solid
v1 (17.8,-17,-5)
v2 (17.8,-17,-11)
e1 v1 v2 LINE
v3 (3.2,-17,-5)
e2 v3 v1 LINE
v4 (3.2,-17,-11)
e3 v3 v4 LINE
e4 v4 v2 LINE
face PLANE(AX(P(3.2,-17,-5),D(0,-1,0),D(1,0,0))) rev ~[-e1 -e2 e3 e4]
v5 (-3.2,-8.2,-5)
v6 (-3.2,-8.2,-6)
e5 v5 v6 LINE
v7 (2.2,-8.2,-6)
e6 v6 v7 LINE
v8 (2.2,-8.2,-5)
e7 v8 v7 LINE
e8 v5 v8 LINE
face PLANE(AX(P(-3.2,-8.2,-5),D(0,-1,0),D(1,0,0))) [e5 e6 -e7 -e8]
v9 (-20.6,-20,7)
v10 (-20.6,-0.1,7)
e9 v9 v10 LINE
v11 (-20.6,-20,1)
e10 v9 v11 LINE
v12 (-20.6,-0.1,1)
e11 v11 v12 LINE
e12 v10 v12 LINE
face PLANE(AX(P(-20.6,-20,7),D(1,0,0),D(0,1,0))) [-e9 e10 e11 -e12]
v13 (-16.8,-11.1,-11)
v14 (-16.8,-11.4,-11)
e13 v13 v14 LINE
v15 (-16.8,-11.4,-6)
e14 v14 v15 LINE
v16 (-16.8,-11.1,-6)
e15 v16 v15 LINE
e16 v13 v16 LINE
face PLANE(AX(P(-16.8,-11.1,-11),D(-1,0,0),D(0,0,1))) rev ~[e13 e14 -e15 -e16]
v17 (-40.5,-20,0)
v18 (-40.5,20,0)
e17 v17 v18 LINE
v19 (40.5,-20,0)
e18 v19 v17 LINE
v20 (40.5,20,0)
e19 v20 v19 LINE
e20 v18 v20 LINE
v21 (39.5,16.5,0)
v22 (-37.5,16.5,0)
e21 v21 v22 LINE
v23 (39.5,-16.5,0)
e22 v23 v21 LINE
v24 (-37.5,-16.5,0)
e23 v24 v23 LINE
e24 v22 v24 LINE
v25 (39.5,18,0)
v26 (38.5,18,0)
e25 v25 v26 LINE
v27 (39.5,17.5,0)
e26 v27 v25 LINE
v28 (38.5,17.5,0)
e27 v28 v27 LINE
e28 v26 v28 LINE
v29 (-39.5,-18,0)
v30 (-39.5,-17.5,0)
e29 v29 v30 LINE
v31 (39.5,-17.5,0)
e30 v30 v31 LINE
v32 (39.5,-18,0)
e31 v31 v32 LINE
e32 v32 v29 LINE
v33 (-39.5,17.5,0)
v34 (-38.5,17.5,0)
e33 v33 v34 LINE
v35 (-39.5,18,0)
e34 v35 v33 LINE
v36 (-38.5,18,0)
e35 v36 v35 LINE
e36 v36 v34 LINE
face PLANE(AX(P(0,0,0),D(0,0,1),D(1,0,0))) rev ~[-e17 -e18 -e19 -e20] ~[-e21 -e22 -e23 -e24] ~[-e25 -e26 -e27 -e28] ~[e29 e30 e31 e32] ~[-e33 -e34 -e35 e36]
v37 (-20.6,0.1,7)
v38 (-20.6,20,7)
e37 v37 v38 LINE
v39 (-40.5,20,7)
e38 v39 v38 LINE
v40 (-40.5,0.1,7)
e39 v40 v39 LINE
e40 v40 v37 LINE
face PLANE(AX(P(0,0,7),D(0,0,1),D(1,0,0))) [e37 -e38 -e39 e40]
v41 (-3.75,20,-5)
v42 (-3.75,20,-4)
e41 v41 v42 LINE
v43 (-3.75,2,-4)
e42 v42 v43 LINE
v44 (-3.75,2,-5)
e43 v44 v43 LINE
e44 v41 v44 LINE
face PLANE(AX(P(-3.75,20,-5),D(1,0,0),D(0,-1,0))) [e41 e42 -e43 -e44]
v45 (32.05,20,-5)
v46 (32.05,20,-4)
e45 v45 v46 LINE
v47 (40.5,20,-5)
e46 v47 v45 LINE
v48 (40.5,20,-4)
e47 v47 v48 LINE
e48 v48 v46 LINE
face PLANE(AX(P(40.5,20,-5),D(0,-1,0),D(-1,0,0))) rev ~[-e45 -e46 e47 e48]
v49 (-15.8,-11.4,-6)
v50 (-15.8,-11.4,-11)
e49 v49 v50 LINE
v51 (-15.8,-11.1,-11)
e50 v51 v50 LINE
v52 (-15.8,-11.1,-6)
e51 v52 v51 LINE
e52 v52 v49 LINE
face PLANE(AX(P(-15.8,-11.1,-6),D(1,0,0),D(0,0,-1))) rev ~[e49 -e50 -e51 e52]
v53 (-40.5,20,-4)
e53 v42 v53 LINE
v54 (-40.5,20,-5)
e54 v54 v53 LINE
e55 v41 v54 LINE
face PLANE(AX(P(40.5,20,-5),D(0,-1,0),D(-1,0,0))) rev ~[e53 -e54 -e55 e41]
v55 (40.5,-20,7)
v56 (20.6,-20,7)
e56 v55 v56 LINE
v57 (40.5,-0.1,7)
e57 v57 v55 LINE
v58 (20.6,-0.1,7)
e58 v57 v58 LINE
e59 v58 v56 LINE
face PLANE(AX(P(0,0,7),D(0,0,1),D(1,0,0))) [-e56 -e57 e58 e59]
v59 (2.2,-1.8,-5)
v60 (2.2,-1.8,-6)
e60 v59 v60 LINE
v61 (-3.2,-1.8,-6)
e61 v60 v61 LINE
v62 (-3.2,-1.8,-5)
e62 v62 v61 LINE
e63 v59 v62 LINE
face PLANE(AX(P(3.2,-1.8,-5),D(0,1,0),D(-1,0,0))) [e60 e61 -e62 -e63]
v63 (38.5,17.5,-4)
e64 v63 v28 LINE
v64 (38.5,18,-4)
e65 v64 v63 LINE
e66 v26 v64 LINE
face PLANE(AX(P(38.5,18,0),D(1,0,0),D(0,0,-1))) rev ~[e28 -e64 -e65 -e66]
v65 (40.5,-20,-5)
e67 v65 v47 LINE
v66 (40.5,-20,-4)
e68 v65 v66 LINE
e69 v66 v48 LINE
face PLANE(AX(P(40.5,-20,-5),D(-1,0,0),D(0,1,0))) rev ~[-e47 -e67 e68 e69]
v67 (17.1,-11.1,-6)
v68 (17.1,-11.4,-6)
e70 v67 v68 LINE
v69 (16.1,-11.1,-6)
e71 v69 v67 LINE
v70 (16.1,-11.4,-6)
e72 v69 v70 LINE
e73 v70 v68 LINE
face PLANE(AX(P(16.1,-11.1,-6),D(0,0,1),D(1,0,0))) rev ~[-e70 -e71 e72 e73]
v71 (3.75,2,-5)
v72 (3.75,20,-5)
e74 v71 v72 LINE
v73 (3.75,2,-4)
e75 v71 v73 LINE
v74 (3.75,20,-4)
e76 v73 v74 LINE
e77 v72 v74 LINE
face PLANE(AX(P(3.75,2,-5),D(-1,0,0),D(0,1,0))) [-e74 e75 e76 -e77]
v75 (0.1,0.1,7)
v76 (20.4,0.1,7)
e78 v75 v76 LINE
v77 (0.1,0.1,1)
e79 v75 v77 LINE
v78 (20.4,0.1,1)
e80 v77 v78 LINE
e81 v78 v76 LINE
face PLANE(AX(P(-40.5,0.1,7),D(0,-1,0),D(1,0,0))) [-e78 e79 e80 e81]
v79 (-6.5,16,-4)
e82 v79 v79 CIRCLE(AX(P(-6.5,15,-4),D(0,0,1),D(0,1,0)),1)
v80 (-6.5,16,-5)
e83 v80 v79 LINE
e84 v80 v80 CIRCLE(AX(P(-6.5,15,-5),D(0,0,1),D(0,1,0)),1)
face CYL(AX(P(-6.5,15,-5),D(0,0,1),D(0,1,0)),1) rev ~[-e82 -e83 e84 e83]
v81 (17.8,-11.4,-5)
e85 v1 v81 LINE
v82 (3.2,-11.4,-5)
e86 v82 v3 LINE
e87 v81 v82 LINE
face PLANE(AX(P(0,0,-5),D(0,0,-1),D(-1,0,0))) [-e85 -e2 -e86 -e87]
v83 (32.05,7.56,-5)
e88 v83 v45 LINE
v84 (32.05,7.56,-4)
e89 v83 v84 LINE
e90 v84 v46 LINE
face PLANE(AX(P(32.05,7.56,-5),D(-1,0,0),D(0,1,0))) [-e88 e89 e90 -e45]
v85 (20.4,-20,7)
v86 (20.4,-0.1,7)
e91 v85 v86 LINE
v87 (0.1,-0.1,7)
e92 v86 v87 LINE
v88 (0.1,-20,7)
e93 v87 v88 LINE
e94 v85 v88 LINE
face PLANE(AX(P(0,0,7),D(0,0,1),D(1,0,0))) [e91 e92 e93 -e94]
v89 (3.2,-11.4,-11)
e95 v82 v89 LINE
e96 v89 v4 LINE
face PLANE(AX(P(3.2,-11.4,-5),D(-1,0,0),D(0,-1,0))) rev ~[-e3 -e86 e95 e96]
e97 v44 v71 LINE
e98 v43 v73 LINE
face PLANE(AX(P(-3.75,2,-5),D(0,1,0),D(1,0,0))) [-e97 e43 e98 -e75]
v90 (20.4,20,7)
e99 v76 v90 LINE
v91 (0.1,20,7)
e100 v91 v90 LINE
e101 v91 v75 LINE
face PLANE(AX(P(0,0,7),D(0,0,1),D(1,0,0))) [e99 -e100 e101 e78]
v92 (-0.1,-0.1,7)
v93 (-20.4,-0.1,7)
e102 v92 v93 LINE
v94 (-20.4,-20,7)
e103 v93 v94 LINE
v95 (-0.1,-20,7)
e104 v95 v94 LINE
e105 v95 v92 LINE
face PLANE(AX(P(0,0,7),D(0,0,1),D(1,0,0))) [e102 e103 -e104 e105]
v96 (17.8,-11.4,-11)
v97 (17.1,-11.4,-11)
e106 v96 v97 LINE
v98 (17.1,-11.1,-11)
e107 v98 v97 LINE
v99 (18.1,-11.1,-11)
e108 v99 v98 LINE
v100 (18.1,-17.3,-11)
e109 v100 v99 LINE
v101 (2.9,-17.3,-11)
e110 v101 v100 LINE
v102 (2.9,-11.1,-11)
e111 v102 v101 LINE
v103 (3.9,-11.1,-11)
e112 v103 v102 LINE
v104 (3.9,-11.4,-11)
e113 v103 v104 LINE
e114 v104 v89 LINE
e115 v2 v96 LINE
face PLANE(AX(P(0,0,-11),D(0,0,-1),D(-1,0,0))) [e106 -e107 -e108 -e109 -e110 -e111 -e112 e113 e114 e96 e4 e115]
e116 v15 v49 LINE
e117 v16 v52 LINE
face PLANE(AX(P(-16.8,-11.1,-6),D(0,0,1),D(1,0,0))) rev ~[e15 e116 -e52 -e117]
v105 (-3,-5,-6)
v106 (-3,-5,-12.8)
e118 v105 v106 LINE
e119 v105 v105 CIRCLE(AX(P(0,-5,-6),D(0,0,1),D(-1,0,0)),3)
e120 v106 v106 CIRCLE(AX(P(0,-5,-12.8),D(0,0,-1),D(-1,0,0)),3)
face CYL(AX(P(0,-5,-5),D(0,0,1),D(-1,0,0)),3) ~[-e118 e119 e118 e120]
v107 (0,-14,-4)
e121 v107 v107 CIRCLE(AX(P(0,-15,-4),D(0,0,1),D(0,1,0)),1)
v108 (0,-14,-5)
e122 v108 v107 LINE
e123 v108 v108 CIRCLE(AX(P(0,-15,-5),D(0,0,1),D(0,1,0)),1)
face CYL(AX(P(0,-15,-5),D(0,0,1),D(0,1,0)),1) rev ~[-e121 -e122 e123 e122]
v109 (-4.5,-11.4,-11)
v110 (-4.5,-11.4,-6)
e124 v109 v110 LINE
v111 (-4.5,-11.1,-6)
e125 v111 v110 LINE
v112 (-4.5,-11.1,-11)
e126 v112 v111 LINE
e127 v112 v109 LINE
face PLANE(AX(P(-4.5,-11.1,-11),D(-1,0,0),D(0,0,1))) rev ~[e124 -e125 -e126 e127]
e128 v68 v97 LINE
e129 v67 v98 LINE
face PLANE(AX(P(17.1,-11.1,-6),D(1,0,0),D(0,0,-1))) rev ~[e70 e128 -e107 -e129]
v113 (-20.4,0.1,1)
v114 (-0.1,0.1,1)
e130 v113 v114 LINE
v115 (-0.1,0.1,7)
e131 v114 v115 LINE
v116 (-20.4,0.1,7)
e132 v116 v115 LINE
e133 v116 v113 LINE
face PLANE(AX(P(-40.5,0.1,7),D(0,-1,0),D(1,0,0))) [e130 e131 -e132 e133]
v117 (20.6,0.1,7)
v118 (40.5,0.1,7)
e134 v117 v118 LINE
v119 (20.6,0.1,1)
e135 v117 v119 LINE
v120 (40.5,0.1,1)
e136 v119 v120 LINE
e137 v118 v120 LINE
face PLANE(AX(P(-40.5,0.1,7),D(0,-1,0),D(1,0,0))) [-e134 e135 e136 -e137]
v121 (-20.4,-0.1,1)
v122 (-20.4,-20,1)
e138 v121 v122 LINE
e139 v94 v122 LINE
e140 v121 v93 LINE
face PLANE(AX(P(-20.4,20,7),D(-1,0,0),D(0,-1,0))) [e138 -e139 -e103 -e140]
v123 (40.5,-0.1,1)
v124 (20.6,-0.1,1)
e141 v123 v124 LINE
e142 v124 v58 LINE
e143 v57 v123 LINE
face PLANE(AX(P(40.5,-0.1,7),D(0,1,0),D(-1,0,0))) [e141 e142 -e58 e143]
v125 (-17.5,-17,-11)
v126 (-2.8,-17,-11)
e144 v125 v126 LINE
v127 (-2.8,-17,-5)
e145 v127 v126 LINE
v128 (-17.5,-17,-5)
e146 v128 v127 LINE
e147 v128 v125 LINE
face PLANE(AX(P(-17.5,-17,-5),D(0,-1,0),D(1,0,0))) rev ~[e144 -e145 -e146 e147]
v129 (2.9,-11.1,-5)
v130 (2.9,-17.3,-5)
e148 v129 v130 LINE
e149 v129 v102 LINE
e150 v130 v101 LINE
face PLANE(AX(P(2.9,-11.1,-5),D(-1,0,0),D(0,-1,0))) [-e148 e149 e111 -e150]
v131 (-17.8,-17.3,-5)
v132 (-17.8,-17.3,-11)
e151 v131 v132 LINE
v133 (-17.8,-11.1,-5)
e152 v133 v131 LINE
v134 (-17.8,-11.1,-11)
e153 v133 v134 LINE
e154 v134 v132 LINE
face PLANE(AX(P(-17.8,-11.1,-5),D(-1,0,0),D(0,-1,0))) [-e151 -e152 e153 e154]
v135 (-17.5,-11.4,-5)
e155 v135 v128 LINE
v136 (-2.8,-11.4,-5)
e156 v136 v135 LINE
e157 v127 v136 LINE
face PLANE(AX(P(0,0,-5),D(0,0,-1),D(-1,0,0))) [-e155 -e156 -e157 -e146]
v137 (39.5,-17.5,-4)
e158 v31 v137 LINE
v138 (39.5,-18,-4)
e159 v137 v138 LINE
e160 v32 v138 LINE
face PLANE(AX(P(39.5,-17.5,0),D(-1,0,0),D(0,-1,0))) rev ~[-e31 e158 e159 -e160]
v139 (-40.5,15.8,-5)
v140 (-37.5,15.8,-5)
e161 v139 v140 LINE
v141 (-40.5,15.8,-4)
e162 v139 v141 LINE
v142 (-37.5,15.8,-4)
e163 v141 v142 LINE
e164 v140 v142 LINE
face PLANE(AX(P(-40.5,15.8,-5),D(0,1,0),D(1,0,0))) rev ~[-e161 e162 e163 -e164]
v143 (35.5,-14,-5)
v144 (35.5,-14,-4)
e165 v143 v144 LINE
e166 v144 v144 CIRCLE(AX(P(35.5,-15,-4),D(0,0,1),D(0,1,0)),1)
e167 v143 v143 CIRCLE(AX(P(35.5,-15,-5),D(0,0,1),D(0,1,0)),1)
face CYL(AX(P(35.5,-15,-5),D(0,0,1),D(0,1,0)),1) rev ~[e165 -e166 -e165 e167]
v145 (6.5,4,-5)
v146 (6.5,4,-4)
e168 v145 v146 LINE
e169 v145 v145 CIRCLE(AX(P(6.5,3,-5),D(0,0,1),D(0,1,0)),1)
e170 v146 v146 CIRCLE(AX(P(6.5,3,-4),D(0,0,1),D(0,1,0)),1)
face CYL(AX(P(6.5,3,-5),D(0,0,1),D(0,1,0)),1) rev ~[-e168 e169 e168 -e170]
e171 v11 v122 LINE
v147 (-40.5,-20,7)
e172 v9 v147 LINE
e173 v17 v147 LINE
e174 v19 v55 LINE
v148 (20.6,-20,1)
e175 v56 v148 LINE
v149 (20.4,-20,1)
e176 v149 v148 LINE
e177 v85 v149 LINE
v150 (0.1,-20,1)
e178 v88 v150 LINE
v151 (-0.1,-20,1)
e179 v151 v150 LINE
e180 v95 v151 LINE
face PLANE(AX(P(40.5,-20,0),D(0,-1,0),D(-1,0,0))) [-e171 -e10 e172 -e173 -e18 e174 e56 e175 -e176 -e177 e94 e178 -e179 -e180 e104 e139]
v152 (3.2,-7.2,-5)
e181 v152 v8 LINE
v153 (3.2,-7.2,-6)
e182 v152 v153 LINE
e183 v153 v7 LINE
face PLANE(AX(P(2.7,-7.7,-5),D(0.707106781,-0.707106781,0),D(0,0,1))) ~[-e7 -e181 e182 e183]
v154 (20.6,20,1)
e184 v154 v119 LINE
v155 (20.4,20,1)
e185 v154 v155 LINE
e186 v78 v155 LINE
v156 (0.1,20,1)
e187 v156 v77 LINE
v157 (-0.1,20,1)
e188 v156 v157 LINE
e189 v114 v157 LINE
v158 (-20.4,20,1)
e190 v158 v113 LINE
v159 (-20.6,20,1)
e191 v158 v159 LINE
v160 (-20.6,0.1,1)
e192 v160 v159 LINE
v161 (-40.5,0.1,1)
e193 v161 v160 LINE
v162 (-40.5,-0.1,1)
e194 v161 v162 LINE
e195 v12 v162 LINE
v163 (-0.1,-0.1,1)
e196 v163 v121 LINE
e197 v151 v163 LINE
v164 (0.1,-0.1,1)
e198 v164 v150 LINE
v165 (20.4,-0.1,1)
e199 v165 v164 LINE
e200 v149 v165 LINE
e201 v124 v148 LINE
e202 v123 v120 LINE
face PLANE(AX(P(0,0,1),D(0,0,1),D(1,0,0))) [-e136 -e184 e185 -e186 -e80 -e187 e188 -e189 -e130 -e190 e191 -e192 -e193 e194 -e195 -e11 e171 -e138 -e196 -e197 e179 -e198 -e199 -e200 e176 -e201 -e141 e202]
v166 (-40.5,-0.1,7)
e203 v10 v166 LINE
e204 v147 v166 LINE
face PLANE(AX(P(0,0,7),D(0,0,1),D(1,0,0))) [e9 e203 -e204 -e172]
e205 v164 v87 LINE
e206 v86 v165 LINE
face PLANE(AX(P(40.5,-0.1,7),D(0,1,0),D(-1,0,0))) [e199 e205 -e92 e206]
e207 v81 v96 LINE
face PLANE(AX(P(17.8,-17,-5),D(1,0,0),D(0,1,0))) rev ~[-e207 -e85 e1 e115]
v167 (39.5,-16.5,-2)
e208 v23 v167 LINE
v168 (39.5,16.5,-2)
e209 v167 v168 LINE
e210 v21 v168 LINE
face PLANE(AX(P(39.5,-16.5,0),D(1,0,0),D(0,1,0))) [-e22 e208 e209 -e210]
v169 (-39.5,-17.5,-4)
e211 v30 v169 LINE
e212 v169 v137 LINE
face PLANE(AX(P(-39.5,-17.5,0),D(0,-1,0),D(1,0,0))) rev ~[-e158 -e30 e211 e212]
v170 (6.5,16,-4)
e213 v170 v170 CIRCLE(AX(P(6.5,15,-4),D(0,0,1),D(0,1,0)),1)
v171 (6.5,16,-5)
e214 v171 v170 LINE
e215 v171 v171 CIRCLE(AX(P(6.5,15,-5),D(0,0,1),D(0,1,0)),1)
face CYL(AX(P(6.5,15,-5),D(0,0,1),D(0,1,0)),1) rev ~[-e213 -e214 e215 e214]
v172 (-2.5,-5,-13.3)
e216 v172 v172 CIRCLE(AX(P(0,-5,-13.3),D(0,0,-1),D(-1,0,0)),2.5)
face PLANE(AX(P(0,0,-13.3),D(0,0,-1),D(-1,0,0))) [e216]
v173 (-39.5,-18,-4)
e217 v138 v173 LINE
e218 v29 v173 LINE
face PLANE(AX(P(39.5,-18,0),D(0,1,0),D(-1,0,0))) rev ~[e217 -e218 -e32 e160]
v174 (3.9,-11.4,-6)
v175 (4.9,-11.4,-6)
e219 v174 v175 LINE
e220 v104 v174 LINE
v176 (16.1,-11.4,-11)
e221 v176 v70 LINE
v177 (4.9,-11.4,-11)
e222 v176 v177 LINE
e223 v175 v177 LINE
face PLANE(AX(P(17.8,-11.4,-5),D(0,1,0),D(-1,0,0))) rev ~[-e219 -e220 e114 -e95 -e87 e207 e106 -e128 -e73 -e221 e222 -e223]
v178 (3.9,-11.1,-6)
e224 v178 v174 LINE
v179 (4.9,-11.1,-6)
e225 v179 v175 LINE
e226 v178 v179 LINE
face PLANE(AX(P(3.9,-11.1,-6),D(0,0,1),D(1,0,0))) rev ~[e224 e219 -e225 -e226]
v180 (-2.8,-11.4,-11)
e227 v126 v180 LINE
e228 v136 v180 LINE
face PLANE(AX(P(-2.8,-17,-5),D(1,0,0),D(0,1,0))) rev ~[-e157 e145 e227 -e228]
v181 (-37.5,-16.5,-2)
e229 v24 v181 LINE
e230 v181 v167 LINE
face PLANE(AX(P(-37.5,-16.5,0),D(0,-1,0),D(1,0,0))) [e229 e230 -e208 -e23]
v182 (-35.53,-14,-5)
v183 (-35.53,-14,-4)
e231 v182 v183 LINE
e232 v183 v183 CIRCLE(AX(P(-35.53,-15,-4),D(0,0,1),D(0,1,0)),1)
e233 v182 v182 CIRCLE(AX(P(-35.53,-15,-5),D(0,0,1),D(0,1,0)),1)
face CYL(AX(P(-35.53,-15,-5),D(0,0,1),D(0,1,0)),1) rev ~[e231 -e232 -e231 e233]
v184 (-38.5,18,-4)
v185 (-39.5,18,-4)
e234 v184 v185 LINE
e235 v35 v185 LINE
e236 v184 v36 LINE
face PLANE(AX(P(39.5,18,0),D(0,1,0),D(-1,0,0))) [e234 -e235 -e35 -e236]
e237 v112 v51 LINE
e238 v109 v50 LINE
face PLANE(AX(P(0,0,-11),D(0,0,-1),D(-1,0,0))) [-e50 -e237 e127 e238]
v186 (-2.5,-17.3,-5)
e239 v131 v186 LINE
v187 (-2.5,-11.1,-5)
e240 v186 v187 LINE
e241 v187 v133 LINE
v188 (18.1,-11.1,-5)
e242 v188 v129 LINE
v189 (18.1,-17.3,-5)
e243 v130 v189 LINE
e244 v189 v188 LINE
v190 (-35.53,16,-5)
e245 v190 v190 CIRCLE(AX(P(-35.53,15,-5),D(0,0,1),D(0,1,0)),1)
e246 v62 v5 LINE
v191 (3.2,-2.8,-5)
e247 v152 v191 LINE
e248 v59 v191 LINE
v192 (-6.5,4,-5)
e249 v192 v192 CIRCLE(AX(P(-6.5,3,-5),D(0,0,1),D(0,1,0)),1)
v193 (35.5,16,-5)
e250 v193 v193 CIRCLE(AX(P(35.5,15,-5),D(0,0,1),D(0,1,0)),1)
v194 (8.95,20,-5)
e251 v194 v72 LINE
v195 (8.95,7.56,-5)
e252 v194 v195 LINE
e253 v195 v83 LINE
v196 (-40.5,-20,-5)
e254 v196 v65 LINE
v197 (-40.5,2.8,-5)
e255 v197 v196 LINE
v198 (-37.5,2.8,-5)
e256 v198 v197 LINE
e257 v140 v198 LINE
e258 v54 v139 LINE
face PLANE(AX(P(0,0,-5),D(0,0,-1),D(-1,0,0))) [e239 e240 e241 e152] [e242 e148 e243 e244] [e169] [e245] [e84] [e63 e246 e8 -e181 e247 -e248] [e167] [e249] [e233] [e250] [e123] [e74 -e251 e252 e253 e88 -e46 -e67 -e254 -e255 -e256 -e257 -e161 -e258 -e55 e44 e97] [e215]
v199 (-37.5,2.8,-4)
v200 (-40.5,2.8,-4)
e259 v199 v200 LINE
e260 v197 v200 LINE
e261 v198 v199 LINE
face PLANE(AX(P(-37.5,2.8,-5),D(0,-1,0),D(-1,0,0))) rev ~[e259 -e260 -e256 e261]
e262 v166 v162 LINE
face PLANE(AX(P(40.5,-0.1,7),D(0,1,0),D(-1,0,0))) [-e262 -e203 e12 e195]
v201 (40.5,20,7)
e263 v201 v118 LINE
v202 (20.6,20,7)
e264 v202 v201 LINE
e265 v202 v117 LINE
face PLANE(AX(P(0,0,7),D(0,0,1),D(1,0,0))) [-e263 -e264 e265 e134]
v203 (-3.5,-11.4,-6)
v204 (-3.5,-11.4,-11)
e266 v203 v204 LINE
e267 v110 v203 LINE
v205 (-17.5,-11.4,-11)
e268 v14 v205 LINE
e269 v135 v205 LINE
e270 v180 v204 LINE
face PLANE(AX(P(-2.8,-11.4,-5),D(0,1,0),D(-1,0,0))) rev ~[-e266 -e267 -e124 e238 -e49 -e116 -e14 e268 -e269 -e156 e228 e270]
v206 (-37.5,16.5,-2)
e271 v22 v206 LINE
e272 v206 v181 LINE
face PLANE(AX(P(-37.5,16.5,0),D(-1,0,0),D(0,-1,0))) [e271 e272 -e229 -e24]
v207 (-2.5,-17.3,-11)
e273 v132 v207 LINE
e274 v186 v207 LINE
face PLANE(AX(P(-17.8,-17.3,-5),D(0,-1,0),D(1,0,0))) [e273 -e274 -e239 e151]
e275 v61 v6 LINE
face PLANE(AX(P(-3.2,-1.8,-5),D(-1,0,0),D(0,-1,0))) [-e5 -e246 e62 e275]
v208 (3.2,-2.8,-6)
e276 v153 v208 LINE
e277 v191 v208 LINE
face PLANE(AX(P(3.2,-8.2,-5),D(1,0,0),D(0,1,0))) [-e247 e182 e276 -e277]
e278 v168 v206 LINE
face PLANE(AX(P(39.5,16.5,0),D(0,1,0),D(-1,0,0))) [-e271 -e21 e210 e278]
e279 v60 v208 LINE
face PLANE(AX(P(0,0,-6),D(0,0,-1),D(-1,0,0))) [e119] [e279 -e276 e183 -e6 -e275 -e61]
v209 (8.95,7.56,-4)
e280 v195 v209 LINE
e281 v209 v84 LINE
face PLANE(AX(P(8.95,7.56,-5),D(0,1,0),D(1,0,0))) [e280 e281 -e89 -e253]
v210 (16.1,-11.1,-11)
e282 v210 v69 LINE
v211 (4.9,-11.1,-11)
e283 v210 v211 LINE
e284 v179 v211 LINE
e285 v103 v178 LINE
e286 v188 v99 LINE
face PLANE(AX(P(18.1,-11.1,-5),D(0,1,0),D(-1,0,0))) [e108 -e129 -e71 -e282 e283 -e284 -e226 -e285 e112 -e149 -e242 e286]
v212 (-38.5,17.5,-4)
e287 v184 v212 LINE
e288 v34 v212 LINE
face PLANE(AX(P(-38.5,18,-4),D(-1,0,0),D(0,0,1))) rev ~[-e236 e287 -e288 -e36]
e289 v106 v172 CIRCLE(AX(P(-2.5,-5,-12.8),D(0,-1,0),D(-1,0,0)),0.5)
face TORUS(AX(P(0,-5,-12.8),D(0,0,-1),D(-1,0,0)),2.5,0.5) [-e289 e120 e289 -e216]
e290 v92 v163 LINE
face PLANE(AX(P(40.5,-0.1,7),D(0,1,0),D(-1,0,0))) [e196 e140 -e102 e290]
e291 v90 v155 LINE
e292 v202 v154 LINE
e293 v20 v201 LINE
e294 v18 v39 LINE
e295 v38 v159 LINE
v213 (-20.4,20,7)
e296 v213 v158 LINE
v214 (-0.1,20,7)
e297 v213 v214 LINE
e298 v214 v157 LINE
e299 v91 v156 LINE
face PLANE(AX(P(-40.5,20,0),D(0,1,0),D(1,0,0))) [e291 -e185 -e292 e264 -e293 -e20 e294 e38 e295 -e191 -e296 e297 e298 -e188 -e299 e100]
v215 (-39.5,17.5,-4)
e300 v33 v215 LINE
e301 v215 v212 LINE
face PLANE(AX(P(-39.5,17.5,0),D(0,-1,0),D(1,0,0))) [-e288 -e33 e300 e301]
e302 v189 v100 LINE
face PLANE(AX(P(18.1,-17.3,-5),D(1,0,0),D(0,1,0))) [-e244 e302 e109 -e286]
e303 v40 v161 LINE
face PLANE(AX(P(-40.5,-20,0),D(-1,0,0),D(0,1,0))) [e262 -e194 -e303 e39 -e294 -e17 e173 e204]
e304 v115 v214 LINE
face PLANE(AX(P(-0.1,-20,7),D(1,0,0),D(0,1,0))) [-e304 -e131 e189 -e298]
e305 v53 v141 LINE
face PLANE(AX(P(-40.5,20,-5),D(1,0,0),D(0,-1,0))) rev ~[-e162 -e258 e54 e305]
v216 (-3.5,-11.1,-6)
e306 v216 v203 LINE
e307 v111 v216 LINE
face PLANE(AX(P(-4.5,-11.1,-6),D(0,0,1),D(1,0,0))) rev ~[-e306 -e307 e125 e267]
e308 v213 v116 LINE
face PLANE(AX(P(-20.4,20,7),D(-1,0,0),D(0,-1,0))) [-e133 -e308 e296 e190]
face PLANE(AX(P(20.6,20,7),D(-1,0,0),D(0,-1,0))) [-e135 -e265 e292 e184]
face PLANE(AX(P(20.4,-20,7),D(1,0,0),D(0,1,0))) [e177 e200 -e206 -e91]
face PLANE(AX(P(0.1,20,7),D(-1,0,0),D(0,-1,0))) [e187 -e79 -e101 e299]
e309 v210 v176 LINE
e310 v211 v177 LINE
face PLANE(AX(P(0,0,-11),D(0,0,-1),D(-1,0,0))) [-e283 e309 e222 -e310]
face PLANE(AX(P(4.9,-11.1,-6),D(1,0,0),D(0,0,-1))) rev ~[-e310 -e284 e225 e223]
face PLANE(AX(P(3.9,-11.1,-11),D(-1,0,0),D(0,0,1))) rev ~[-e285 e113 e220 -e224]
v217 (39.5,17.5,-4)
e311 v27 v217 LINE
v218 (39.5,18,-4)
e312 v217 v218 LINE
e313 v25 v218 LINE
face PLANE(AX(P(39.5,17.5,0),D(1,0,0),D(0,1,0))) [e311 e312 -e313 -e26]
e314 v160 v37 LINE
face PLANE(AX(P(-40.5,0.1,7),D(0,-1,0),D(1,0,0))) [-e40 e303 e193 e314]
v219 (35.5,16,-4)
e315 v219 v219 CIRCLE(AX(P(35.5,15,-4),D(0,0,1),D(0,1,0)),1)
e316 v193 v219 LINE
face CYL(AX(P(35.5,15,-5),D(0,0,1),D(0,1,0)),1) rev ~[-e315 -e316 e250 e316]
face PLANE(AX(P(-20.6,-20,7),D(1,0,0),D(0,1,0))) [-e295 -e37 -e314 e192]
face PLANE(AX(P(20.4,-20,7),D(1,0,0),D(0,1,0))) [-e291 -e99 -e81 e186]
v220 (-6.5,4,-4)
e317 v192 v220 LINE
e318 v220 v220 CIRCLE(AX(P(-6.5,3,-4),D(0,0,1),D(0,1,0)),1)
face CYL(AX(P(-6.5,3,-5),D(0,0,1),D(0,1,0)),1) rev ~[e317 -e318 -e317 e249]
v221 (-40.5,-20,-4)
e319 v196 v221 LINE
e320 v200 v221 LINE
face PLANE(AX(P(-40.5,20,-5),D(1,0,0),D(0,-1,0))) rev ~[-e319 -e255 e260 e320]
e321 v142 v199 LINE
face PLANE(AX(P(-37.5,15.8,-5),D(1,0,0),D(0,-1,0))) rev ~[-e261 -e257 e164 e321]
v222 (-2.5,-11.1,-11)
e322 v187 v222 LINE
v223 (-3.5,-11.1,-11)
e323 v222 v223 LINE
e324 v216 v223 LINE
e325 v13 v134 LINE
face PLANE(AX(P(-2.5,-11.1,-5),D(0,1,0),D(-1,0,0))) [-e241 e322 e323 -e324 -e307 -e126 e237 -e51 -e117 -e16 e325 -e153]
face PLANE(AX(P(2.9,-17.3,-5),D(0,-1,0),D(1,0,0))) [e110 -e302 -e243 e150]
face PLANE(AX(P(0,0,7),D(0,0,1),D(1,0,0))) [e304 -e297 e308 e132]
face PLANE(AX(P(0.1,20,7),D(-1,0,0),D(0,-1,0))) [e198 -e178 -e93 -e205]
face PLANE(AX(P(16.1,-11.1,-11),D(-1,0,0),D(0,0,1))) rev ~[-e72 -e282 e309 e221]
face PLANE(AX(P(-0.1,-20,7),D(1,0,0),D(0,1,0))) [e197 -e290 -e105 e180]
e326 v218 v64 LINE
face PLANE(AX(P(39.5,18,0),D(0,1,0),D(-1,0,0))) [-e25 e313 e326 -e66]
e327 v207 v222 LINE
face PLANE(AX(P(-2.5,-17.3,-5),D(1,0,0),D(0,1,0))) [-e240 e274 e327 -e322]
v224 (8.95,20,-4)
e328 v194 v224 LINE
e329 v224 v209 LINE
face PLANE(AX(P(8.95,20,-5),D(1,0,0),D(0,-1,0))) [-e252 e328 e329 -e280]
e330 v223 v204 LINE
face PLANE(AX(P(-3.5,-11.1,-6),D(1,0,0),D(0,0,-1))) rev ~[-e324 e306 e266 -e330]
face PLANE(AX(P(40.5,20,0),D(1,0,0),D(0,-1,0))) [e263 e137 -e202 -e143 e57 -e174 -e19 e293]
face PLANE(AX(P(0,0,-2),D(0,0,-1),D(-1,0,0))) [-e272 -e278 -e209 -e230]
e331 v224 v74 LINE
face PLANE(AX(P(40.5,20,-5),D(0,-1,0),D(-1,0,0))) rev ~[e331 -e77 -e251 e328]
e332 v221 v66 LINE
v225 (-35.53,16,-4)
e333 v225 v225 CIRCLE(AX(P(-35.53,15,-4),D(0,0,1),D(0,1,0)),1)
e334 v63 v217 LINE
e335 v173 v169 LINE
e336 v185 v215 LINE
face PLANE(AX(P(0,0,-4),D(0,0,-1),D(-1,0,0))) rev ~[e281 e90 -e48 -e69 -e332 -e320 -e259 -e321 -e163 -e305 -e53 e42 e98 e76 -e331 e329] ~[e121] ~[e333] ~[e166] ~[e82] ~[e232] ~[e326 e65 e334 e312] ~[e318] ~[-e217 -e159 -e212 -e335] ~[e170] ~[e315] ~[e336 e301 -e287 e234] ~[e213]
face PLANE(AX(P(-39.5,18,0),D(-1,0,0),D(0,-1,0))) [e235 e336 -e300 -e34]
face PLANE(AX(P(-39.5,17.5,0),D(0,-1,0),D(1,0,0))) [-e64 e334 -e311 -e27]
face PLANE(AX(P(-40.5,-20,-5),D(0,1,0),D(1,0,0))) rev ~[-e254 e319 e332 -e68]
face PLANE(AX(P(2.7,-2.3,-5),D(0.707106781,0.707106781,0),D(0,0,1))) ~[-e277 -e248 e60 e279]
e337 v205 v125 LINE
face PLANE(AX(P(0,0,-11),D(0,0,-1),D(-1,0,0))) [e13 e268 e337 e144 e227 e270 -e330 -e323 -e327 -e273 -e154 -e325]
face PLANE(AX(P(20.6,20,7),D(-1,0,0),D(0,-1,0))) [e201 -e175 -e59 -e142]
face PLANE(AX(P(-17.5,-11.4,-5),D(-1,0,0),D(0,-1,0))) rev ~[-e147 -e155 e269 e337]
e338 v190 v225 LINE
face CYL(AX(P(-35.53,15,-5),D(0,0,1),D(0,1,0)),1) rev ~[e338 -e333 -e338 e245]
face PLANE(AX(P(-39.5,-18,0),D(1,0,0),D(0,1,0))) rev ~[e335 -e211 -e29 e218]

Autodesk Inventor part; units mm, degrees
ref_plane "YZ Plane" through (0, 0, 0) normal (1, 0, 0) x (0, 1, 0)
ref_plane "XZ Plane" through (0, 0, 0) normal (0, 1, 0) x (-1, 0, 0)
ref_plane "XY Plane" through (0, 0, 0) normal (0, 0, 1) x (1, 0, 0)
sketch "Sketch1" plane through (0, 0, 0) normal (0, 0, 1) x (1, 0, 0)
  line L0 (-40.5, 20) -> (40.5, 20)
  line L1 (40.5, 20) -> (40.5, -20)
  line L2 (40.5, -20) -> (-40.5, -20)
  line L3 (-40.5, -20) -> (-40.5, 20)
  point P0 (0, 0)
  dimension "d0" = 81
  dimension "d1" = 40
  dimension "d2" = 20
  dimension "d3" = 40.5
extrude "Extrusion1" add sketch "Sketch1" along normal blind 7
sketch "Sketch2" plane through (0, 0, 7) normal (0, 0, 1) x (1, 0, 0)
  line L0 (-40.5, 20) -> (-40.5, -20) projected
  line L1 (40.5, -20) -> (40.5, 20) projected
  line L2 (-40.5, 0.1) -> (40.5, 0.1)
  line L3 (40.5, 0.1) -> (40.5, -0.1)
  line L4 (40.5, -0.1) -> (-40.5, -0.1)
  line L5 (-40.5, -0.1) -> (-40.5, 0.1)
  line L6 (40.5, 20) -> (-40.5, 20) projected
  line L7 (-40.5, -20) -> (40.5, -20) projected
  point P0 (0, 0)
  point P1 (-40.5, -0.1)
  dimension "d6" = 19.9
  dimension "d7" = 19.9
extrude "Extrusion2" cut sketch "Sketch2" against normal blind 6 contours L2 L1 L4 L0
sketch "Sketch3" plane through (0, 0, 7) normal (0, 0, 1) x (1, 0, 0)
  line L0 (40.5, 20) -> (-40.5, 20) projected
  line L1 (-40.5, -20) -> (40.5, -20) projected
  line L2 (-20.6, 20) -> (-20.4, 20)
  line L3 (-20.4, 20) -> (-20.4, -20)
  line L4 (-20.4, -20) -> (-20.6, -20)
  line L5 (-20.6, -20) -> (-20.6, 20)
  line L6 (-0.1, 20) -> (0.1, 20)
  line L7 (0.1, 20) -> (0.1, -20)
  line L8 (0.1, -20) -> (-0.1, -20)
  line L9 (-0.1, -20) -> (-0.1, 20)
  line L10 (20.4, 20) -> (20.6, 20)
  line L11 (20.6, 20) -> (20.6, -20)
  line L12 (20.6, -20) -> (20.4, -20)
  line L13 (20.4, -20) -> (20.4, 20)
  line L14 (-40.5, 20) -> (-40.5, 0.1) projected
  line L15 (40.5, 0.1) -> (40.5, 20) projected
  point P0 (0, 0)
  point P1 (20.6, -20)
  dimension "d10" = 0.2
  dimension "d11" = 0.2
  dimension "d12" = 0.2
  dimension "d13" = 19.9
  dimension "d14" = 19.9
  dimension "d15" = 40.4
  dimension "d16" = 40.4
extrude "Extrusion3" cut sketch "Sketch3" against normal blind 6 contours L11 L1 L13 L0 | L7 L1 L9 L0 | L3 L1 L5 L0
sketch "Sketch4" plane through (0, 0, 0) normal (0, 0, -1) x (-1, 0, 0)
  line L0 (-39.5, 18) -> (39.5, 18)
  line L1 (39.5, 18) -> (39.5, 17.5)
  line L2 (39.5, 17.5) -> (-39.5, 17.5)
  line L3 (-39.5, 17.5) -> (-39.5, 18)
  line L4 (39.5, -17.5) -> (-39.5, -17.5)
  line L5 (-39.5, -17.5) -> (-39.5, -18)
  line L6 (-39.5, -18) -> (39.5, -18)
  line L7 (39.5, -18) -> (39.5, -17.5)
  line L8 (-40.5, 20) -> (40.5, 20) projected
  line L9 (40.5, -20) -> (-40.5, -20) projected
  line L10 (-40.5, -20) -> (-40.5, 20) projected
  line L11 (40.5, 20) -> (40.5, -20) projected
  point P0 (0, 0)
  dimension "d19" = 0.5
  dimension "d20" = 2
  dimension "d21" = 2
  dimension "d22" = 0.5
  dimension "d23" = 1
  dimension "d24" = 1
extrude "Extrusion4" add sketch "Sketch4" along normal blind 5 contours L0 L1 L2 L3 | L7 L6 L5 L4
sketch "Sketch5" plane through (0, 0, -5) normal (0, 0, -1) x (-1, 0, 0)
  line L0 (-40.5, -20) -> (-40.5, 20) projected
  line L1 (40.5, -20) -> (-40.5, -20) projected
  line L2 (-40.5, 20) -> (40.5, 20)
  line L3 (40.5, 20) -> (40.5, -20)
  line L4 (40.5, -20) -> (-40.5, -20)
  line L5 (-40.5, -20) -> (-40.5, 20)
  point P0 (0, 0)
extrude "Extrusion5" add sketch "Sketch5" against normal blind 1
sketch "Sketch6" plane through (0, 0, -5) normal (0, 0, -1) x (-1, 0, 0)
  line L0 (-40.5, 20) -> (40.5, 20) projected
  line L1 (-3.75, 20) -> (3.75, 20)
  line L2 (3.75, 20) -> (3.75, 2)
  line L3 (3.75, 2) -> (-3.75, 2)
  line L4 (-3.75, 2) -> (-3.75, 20)
  point P0 (0, 0)
  dimension "d29" = 7.5
  dimension "d30" = 3.75
  dimension "d31" = 18
extrude "Extrusion6" cut sketch "Sketch6" against normal blind 1
sketch "Sketch8" plane through (0, 0, -5) normal (0, 0, -1) x (-1, 0, 0)
  line L0 (-40.5, 20) -> (-40.5, -20) projected
  line L1 (-40.5, -20) -> (40.5, -20) projected
  line L2 (-40.5, 20) -> (-40.5, -20) projected
  line L3 (-40.5, -20) -> (-40.5, 20) projected
  point P0 (0, 0)
  point P1 (-35.5, 15)
  point P2 (-6.5, 15)
  point P3 (-6.5, 3)
  point P4 (6.5, 3)
  point P5 (6.5, 15)
  point P6 (-35.5, -15)
  point P7 (0, -15)
  point P8 (35.53, -15)
  point P9 (35.53, 15)
  point P10 (-40.5, 15.8)
  point P11 (-40.5, 2.8)
  dimension "d39" = 5
  dimension "d40" = 35
  dimension "d41" = 5
  dimension "d42" = 5
  dimension "d43" = 40.5
  dimension "d44" = 5
  dimension "d45" = 5
  dimension "d46" = 76.03
  dimension "d47" = 76.03
  dimension "d48" = 35
  dimension "d49" = 23
  dimension "d50" = 23
  dimension "d51" = 35
  dimension "d52" = 35
  dimension "d53" = 34
  dimension "d54" = 34
  dimension "d55" = 47
  dimension "d56" = 47
hole "Hole1" at (35.5, 15, -5) at (6.5, 15, -5) at (6.5, 3, -5) at (-6.5, 3, -5) at (-6.5, 15, -5) at (35.5, -15, -5) at (0, -15, -5) at (-35.53, -15, -5) at (-35.53, 15, -5) direction (0, 0, 1) diameter 2 depth 1 tip angle 118
sketch "Sketch9" plane through (-39.5, 18, 0) normal (0, 1, 0) x (1, 0, 0)
  line L0 (35.75, 5) -> (43.25, 5) projected
  line L1 (43.25, 5) -> (35.75, 5)
  line L2 (35.75, 5) -> (35.75, 0.5)
  line L3 (35.75, 0.5) -> (43.25, 0.5)
  line L4 (43.25, 0.5) -> (43.25, 5)
  line L5 (80, 0) -> (-1, 0) projected
  line L6 (35.75, 4) -> (35.75, 5) projected
  point P0 (39.5, 0)
  dimension "d64" = 0.5
extrude "Extrusion8" cut sketch "Sketch9" against normal blind 5
sketch "Sketch10" plane through (0, 0, -5) normal (0, 0, -1) x (-1, 0, 0)
  point P0 (0, 0)
sketch "Sketch11" plane through (0, 0, -5) normal (0, 0, -1) x (-1, 0, 0)
  line L0 (-3.75, 20) -> (-40.5, 20) projected
  line L1 (-40.5, 15.8) -> (-37.5, 15.8) projected
  line L2 (-37.5, 2.8) -> (-40.5, 2.8) projected
  line L3 (-40.5, -20) -> (-40.5, 20) projected
  line L4 (-37.5, 15.8) -> (-37.5, 2.8) projected
  line L5 (40.5, 20) -> (40.5, -20) projected
  line L6 (40.5, 15.8) -> (37.5, 15.8)
  line L7 (37.5, 15.8) -> (37.5, 2.8)
  line L8 (37.5, 2.8) -> (40.5, 2.8)
  line L9 (40.5, 2.8) -> (40.5, 15.8)
  line L10 (40.5, 20) -> (3.75, 20) projected
  point P0 (0, 0)
  dimension "d67" = 4.2
  dimension "d68" = 13
  dimension "d69" = 3
  dimension "d70" = 4.2
  dimension "d71" = 13
  dimension "d72" = 3
extrude "Extrusion9" cut sketch "Sketch11" against normal blind 1 contours L5 L8 L7 L6
sketch "Sketch12" plane through (0, 0, -5) normal (0, 0, -1) x (-1, 0, 0)
  line L0 (-40.5, 20) -> (40.5, 20) projected
  line L1 (-32.05, 20) -> (-8.95, 20)
  line L2 (-8.95, 20) -> (-8.95, 7.56)
  line L3 (-8.95, 7.56) -> (-32.05, 7.56)
  line L4 (-32.05, 7.56) -> (-32.05, 20)
  line L5 (-3.75, 2) -> (-3.75, 20) projected
  point P0 (0, 0)
  dimension "d75" = 5.2
  dimension "d76" = 12.44
  dimension "d77" = 23.1
extrude "Extrusion10" cut sketch "Sketch12" against normal blind 4.5
sketch "Sketch13" plane through (0, 0, 0) normal (0, 0, -1) x (-1, 0, 0)
  line L0 (-39.5, 16.5) -> (37.5, 16.5)
  line L1 (37.5, 16.5) -> (37.5, -16.5)
  line L2 (37.5, -16.5) -> (-39.5, -16.5)
  line L3 (-39.5, -16.5) -> (-39.5, 16.5)
  line L4 (-40.5, 20) -> (-40.5, -20) projected
  line L5 (-8.95, 17.5) -> (-32.05, 17.5) projected
  line L6 (-39.5, -17.5) -> (39.5, -17.5) projected
  line L7 (40.5, 20) -> (40.5, -20) projected
  point P0 (0, 0)
  dimension "d80" = 1
  dimension "d81" = 1
  dimension "d82" = 1
  dimension "d83" = 3
extrude "Extrusion11" add sketch "Sketch13" along normal blind 2
sketch "Sketch14" plane through (0, 0, -5) normal (0, 0, -1) x (-1, 0, 0)
  line L0 (-18.1, -11.1) -> (-2.9, -11.1)
  line L1 (-2.9, -11.1) -> (-2.9, -17.3)
  line L2 (-2.9, -17.3) -> (-18.1, -17.3)
  line L3 (-18.1, -17.3) -> (-18.1, -11.1)
  line L4 (2.5, -11.1) -> (17.8, -11.1)
  line L5 (17.8, -11.1) -> (17.8, -17.3)
  line L6 (17.8, -17.3) -> (2.5, -17.3)
  line L7 (2.5, -17.3) -> (2.5, -11.1)
  line L8 (-40.5, 20) -> (-40.5, -20) projected
  line L9 (-40.5, -20) -> (40.5, -20) projected
  line L10 (-17.8, -11.4) -> (-3.2, -11.4)
  line L11 (-3.2, -11.4) -> (-3.2, -17)
  line L12 (-3.2, -17) -> (-17.8, -17)
  line L13 (-17.8, -17) -> (-17.8, -11.4)
  line L14 (2.8, -11.4) -> (17.5, -11.4)
  line L15 (17.5, -11.4) -> (17.5, -17)
  line L16 (17.5, -17) -> (2.8, -17)
  line L17 (2.8, -17) -> (2.8, -11.4)
  point P0 (0, 0)
  dimension "d86" = 22.4
  dimension "d87" = 37.6
  dimension "d88" = 43
  dimension "d89" = 58.3
  dimension "d90" = 2.7
  dimension "d91" = 6.2
  dimension "d92" = 0.3
  dimension "d93" = 0.3
  dimension "d94" = 0.3
  dimension "d95" = 0.3
  dimension "d96" = 0.3
  dimension "d97" = 0.3
extrude "Extrusion12" add sketch "Sketch14" along normal blind 6
sketch "Sketch15" plane through (2.9, -11.1, -5) normal (0, 1, 0) x (1, 0, 0)
  line L0 (14.9, 6) -> (0.3, 6) projected
  line L1 (14.2, 6) -> (1, 6)
  line L2 (1, 6) -> (1, 1)
  line L3 (1, 1) -> (14.2, 1)
  line L4 (14.2, 1) -> (14.2, 6)
  line L5 (-6.4, 6) -> (-19.7, 6)
  line L6 (-19.7, 6) -> (-19.7, 1)
  line L7 (-19.7, 1) -> (-6.4, 1)
  line L8 (-6.4, 1) -> (-6.4, 6)
  line L9 (-20.7, 6) -> (-5.4, 6) projected
  line L10 (13.2, 1) -> (2, 1)
  line L11 (2, 1) -> (2, 6)
  line L12 (2, 6) -> (13.2, 6)
  line L13 (13.2, 6) -> (13.2, 1)
  line L14 (-5.4, 6) -> (-20.7, 6) projected
  line L15 (-7.4, 1) -> (-18.7, 1)
  line L16 (-18.7, 1) -> (-18.7, 6)
  line L17 (-18.7, 6) -> (-7.4, 6)
  line L18 (-7.4, 6) -> (-7.4, 1)
  line L19 (15.2, 0) -> (15.2, 6) projected
  line L20 (0, 0) -> (0, 6) projected
  line L21 (-5.4, 0) -> (-5.4, 6) projected
  line L22 (-20.7, 0) -> (-20.7, 6) projected
  point P0 (-2.9, -5)
  point P1 (-18.7, 1)
  point P2 (-18.7, 6)
  point P3 (13.2, 6)
  point P4 (2, 1)
  point P5 (1, 6)
  dimension "d100" = 1
  dimension "d101" = 1
  dimension "d102" = 1
  dimension "d103" = 1
  dimension "d104" = 1
  dimension "d105" = 1
  dimension "d106" = 1
  dimension "d107" = 1
  dimension "d108" = 5
extrude "Extrusion13" cut sketch "Sketch15" against normal blind 3 contours L4 L3 L13 L0 | L11 L3 L2 L0 | L8 L7 L18 L5 | L16 L7 L6 L5
sketch "Sketch16" plane through (0, 0, -5) normal (0, 0, -1) x (-1, 0, 0)
  circle A0 centre (0, -5) radius 3
  line L0 (-40.5, 20) -> (-40.5, -20) projected
  line L1 (-40.5, -20) -> (40.5, -20) projected
  point P0 (0, 0)
  dimension "d111" = 40.5
  dimension "d112" = 15
  dimension "d113" = 6
extrude "Extrusion14" add sketch "Sketch16" along normal blind 8.3
fillet "Fillet1" radius 0.5 1 edges at (3, -5, -13.3)
sketch "Sketch17" plane through (0, 0, -5) normal (0, 0, -1) x (-1, 0, 0)
  line L0 (-3.2, -1.8) -> (3.2, -1.8)
  line L1 (3.2, -1.8) -> (3.2, -8.2)
  line L2 (3.2, -8.2) -> (-3.2, -8.2)
  line L3 (-3.2, -8.2) -> (-3.2, -1.8)
  circle A0 centre (0, -5) radius 2.5 projected
  point P0 (0, 0)
  dimension "d117" = 3.2
  dimension "d118" = 3.2
  dimension "d119" = 3.2
  dimension "d120" = 3.2
extrude "Extrusion15" add sketch "Sketch17" along normal blind 1
chamfer "Chamfer1" distance 1 angle 45 2 edges at (3.2, -1.8, -5.5) (3.2, -8.2, -5.5)
sketch "Sketch18" plane through (-39.5, 18, 0) normal (0, 1, 0) x (1, 0, 0)
  line L0 (79, 4) -> (0, 4) projected
  line L1 (1, 0) -> (78, 0)
  line L2 (78, 0) -> (78, 4)
  line L3 (78, 4) -> (1, 4)
  line L4 (1, 4) -> (1, 0)
  line L5 (79, 0) -> (79, 4) projected
  line L6 (0, 0) -> (0, 4) projected
  line L7 (80, 0) -> (-1, 0) projected
  point P0 (39.5, 0)
  point P1 (1, 4)
  dimension "d126" = 1
  dimension "d127" = 1
extrude "Extrusion16" cut sketch "Sketch18" against normal blind 1 contours L2 L1 L4 L0
properties part number "display-unit"
